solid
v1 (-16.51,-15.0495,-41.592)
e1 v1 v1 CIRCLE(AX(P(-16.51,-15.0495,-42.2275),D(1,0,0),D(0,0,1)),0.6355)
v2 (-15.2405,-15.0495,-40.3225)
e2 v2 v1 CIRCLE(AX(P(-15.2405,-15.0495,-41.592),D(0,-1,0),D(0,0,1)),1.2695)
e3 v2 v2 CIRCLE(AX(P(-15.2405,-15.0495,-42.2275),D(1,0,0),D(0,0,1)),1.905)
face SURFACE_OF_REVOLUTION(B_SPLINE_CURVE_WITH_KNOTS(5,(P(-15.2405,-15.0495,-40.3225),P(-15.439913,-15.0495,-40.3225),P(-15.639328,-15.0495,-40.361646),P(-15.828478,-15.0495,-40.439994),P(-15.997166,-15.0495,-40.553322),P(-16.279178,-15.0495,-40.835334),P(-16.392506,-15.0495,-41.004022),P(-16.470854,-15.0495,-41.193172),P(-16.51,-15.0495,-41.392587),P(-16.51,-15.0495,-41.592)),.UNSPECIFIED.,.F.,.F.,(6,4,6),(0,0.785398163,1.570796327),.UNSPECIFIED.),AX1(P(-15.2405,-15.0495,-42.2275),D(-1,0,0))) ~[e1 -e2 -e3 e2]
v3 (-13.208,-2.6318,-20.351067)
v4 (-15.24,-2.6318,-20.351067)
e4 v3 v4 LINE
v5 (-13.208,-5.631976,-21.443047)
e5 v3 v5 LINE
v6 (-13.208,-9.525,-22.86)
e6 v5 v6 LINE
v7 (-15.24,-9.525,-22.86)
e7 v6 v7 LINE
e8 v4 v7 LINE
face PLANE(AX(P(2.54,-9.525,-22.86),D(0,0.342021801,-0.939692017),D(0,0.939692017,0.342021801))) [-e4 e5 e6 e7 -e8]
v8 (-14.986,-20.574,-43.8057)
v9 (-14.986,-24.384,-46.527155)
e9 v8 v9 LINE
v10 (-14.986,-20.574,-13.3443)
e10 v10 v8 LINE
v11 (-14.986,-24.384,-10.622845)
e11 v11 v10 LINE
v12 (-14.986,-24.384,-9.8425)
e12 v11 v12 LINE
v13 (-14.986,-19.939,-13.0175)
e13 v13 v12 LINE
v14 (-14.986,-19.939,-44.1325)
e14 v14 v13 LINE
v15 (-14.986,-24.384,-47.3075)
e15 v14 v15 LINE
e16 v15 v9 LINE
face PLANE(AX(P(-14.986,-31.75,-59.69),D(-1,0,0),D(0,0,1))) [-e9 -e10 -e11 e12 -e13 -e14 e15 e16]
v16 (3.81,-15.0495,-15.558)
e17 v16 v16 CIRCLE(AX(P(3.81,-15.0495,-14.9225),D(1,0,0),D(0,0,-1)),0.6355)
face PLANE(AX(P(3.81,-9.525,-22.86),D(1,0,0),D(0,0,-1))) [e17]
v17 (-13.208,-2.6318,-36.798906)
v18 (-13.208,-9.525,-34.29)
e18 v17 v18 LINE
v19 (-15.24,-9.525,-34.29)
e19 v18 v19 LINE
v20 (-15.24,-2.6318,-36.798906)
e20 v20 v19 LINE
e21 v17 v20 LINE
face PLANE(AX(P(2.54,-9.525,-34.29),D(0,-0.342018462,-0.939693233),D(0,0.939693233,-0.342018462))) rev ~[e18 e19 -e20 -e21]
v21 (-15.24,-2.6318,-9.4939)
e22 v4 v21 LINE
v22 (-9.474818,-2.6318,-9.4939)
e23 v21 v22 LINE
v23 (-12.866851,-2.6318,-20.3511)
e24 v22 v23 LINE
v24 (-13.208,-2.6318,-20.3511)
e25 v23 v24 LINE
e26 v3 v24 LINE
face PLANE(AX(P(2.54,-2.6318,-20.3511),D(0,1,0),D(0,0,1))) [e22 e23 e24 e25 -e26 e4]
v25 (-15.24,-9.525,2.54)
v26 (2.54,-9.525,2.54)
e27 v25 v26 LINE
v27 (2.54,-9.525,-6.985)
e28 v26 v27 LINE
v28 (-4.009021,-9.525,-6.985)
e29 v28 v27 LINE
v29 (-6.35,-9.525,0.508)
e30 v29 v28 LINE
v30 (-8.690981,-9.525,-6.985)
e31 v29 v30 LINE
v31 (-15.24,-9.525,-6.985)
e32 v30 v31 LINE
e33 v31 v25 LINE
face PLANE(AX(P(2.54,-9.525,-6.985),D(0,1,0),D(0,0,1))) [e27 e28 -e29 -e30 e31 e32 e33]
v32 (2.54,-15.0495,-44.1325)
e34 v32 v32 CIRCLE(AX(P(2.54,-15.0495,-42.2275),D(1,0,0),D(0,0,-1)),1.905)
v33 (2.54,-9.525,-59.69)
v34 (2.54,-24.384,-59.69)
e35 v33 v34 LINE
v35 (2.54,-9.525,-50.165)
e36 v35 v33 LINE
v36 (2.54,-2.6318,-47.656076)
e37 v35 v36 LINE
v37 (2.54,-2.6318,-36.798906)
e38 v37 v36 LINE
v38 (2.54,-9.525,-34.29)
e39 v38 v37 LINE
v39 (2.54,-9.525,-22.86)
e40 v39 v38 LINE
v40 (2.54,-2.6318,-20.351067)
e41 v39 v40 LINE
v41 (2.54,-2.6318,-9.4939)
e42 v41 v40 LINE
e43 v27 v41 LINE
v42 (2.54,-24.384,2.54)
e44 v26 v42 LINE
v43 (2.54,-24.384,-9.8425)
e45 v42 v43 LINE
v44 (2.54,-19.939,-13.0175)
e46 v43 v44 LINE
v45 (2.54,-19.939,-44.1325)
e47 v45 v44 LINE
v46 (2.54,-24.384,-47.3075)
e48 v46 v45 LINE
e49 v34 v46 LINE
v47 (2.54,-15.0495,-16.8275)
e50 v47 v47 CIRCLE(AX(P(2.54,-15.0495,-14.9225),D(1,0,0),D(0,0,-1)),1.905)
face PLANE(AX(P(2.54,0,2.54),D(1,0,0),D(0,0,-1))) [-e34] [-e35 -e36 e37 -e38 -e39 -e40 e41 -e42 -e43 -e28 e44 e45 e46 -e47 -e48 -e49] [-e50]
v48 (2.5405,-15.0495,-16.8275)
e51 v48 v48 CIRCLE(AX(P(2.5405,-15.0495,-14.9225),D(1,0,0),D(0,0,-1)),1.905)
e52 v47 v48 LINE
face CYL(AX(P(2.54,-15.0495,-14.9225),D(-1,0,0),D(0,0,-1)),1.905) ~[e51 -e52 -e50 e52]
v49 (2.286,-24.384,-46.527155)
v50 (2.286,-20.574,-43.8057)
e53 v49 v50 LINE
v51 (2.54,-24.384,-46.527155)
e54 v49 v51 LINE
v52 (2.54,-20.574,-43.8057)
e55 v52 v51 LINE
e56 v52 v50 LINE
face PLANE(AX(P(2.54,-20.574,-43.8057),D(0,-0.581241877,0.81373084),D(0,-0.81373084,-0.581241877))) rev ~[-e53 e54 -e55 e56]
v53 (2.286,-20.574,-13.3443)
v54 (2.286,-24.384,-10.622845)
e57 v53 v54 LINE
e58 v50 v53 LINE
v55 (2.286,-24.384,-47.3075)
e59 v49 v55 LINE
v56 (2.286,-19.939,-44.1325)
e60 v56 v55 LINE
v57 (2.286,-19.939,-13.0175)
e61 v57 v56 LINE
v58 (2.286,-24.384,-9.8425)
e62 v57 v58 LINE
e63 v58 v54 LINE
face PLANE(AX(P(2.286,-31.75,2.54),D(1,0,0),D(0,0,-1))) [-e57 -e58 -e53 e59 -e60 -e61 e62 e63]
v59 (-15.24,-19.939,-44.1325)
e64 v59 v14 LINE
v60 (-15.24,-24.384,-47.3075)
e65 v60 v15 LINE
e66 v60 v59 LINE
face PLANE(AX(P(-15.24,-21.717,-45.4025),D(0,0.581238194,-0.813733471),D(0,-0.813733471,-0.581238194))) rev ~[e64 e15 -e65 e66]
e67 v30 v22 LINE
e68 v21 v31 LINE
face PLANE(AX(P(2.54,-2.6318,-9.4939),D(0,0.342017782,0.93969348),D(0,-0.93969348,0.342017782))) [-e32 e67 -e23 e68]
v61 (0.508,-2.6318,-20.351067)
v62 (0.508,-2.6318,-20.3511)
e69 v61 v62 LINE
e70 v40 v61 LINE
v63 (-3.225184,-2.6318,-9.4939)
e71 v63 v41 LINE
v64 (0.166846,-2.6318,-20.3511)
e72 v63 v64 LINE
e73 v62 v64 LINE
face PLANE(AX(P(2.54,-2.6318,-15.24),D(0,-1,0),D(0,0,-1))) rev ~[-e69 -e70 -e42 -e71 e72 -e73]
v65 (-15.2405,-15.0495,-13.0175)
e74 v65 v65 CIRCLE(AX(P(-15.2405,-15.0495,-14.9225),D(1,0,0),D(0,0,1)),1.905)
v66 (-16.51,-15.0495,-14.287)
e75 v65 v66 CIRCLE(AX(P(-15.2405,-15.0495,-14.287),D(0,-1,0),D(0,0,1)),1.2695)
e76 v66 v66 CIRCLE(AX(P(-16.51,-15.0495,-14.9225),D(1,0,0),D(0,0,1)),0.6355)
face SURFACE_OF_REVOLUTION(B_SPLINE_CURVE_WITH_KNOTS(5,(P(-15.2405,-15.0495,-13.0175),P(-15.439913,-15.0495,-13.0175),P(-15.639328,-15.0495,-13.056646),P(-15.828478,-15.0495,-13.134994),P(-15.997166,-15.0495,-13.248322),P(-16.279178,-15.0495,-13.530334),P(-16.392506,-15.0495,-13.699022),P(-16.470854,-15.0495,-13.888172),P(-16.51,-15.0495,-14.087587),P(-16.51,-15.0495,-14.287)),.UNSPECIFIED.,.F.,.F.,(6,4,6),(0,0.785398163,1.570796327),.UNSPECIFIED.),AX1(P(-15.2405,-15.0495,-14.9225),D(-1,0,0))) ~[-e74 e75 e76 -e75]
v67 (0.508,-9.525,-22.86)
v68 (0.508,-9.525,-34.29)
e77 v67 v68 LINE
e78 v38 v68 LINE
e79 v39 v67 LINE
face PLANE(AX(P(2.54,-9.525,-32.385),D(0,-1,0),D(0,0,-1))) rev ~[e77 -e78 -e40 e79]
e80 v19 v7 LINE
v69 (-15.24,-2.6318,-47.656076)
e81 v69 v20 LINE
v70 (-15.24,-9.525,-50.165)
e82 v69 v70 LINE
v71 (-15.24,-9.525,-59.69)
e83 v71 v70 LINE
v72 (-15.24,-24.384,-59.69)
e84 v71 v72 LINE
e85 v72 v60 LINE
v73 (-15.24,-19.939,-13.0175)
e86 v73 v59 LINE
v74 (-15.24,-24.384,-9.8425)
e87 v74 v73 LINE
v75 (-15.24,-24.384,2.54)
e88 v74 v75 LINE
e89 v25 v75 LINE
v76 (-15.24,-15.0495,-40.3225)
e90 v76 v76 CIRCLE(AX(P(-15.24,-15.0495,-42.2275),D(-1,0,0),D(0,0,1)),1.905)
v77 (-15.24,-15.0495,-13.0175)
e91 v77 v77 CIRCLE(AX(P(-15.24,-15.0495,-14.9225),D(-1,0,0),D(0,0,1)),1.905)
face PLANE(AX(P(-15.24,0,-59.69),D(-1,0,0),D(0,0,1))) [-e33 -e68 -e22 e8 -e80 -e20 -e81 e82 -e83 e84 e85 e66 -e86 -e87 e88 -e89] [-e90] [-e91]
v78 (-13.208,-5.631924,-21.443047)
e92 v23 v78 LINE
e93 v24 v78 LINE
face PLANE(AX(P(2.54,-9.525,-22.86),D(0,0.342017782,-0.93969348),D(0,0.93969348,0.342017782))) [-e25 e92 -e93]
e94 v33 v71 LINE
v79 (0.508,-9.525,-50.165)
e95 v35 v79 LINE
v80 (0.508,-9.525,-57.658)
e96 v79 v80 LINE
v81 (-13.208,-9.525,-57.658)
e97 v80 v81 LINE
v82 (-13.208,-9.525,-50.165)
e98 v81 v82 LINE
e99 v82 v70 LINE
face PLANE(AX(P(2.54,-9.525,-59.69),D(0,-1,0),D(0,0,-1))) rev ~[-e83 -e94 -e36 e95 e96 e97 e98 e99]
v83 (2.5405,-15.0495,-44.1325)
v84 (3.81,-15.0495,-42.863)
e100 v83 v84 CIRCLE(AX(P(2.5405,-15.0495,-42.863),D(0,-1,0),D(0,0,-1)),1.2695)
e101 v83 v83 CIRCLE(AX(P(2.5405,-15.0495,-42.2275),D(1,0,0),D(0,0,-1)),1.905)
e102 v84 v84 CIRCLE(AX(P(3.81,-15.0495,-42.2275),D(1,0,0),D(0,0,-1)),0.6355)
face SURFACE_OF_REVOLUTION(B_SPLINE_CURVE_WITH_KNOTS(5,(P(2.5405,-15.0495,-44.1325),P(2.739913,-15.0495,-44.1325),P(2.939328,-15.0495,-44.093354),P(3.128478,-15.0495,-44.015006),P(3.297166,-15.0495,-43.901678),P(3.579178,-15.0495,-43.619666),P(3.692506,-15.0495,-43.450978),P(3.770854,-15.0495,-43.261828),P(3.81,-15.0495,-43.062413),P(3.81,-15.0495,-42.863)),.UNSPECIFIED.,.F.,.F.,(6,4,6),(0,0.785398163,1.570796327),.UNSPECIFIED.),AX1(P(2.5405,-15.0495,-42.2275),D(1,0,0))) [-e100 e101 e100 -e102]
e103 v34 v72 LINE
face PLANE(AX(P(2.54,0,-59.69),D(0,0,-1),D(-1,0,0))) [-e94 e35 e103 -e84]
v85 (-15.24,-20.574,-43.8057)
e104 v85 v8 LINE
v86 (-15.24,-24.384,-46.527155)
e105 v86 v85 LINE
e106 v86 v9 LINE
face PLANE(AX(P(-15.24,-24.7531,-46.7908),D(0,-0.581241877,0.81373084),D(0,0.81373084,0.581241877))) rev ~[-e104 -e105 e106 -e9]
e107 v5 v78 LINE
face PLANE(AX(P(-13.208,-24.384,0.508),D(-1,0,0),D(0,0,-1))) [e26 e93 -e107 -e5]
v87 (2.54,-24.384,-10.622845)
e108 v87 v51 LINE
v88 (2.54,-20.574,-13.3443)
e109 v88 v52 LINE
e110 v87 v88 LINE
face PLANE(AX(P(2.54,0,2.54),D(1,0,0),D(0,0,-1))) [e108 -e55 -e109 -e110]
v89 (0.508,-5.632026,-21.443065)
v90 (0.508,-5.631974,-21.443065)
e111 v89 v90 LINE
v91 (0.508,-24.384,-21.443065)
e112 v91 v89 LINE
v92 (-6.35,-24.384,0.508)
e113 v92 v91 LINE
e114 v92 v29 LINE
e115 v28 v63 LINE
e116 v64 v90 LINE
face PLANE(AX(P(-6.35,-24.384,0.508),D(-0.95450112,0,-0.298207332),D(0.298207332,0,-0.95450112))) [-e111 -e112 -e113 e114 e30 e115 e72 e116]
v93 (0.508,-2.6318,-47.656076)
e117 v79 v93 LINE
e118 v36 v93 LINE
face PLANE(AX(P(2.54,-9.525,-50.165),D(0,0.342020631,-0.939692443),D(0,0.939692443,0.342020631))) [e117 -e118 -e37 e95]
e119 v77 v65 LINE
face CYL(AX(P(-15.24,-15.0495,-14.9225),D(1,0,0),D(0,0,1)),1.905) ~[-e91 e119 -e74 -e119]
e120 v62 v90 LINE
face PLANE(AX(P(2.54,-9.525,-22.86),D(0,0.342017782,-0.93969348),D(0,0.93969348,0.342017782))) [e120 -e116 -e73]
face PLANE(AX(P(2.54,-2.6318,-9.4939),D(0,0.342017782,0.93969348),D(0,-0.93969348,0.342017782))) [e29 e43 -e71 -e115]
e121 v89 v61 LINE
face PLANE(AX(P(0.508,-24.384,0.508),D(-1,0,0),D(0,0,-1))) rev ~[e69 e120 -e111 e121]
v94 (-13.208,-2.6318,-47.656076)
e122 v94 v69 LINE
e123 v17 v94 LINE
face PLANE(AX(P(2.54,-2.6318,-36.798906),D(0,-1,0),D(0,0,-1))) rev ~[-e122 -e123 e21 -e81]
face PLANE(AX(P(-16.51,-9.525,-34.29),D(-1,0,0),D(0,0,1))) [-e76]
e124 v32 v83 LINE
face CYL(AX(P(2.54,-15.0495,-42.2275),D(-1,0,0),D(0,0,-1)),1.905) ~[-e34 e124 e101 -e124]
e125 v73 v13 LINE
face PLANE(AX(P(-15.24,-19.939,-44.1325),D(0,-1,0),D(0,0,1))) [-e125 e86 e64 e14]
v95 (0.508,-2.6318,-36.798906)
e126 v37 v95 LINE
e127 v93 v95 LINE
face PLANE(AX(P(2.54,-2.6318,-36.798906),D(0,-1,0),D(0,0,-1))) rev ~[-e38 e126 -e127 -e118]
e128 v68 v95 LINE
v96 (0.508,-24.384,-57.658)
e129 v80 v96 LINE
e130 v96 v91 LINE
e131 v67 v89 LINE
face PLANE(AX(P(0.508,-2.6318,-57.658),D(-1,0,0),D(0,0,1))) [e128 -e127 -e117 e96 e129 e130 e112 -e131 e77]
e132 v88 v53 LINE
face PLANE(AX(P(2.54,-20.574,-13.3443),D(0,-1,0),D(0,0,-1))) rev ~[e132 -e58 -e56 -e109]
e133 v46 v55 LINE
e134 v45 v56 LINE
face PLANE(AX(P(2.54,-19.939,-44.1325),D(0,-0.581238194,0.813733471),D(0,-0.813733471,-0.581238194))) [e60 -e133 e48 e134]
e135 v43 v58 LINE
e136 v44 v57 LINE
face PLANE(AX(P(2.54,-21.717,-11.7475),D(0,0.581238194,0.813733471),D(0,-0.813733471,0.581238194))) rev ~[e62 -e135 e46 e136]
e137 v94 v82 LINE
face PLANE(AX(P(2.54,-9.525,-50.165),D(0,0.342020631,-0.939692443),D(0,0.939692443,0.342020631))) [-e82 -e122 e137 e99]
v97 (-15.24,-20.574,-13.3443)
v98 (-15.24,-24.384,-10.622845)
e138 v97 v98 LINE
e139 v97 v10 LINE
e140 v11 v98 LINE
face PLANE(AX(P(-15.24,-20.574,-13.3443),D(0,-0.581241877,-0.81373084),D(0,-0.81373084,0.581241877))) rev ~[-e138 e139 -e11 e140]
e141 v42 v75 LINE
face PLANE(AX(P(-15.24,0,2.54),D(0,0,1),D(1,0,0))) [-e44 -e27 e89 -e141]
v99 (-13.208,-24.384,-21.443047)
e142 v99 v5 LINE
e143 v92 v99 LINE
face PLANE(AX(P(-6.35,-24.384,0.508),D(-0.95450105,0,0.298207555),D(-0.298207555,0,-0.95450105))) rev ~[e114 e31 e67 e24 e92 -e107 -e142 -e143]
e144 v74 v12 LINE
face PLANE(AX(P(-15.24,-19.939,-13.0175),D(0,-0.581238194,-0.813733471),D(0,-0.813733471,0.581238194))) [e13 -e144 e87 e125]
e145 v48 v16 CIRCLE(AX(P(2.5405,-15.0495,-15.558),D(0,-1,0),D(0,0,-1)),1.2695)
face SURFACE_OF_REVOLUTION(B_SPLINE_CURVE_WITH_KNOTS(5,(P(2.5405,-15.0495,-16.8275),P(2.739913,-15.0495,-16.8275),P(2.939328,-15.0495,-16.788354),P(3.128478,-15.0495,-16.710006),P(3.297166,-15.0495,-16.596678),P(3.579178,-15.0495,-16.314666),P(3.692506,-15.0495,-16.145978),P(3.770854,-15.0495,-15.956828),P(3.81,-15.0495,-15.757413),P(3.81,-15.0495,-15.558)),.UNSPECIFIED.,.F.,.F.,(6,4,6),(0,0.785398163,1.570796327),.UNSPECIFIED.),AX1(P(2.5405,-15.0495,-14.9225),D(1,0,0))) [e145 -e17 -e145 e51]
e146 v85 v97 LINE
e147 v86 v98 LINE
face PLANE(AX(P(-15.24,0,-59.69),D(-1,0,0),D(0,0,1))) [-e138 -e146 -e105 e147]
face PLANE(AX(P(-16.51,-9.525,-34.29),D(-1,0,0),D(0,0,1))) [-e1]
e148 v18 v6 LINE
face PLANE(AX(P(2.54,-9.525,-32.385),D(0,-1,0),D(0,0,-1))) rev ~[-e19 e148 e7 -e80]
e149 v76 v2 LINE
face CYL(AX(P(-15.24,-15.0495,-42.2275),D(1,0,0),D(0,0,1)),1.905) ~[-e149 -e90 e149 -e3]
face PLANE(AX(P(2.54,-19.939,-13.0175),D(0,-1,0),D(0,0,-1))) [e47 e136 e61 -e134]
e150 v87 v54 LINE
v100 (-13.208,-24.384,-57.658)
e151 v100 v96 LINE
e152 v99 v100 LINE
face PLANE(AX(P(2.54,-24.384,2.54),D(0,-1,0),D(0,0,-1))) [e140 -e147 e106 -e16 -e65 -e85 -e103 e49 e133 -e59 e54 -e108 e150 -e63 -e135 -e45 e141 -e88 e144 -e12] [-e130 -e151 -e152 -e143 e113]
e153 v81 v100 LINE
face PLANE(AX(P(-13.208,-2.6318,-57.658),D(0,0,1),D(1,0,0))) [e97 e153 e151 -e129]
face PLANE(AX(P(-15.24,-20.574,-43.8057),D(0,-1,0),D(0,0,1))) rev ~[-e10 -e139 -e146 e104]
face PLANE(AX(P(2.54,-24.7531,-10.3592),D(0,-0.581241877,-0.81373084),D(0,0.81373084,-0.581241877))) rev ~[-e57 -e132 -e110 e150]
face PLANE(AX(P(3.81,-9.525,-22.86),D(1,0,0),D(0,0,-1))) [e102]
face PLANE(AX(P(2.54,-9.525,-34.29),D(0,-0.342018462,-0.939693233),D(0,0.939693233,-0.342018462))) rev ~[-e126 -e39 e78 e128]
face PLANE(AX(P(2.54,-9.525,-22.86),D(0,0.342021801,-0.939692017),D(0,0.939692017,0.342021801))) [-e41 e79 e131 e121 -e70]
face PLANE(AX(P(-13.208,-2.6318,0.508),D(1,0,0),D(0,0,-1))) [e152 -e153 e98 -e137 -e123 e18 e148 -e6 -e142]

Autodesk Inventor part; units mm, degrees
ref_plane "YZ Plane" through (0, 0, 0) normal (1, 0, 0) x (0, 1, 0)
ref_plane "XZ Plane" through (0, 0, 0) normal (0, 1, 0) x (-1, 0, 0)
ref_plane "XY Plane" through (0, 0, 0) normal (0, 0, 1) x (1, 0, 0)
sketch "Sketch1" plane through (0, 0, 0) normal (0, 1, 0) x (-1, 0, 0)
  line L0 (0, 0) -> (12.7, 0)
  line L1 (12.7, 0) -> (12.7, -57.15)
  line L2 (12.7, -57.15) -> (0, -57.15)
  line L3 (0, -57.15) -> (0, 0)
  line L4 (15.24, -59.69) -> (15.24, 2.54)
  line L5 (15.24, 2.54) -> (-2.54, 2.54)
  line L6 (-2.54, 2.54) -> (-2.54, -59.69)
  line L7 (-2.54, -59.69) -> (15.24, -59.69)
  dimension "d0" = 12.7
  dimension "d1" = 57.15
  dimension "d2" = 2.54
extrude "Extrusion1" add sketch "Sketch1" against normal blind 31.75
sketch "Sketch2" plane through (2.54, 0, 2.54) normal (1, 0, 0) x (0, 0, -1)
  point P0 (2.54, 0)
sketch "Sketch3" plane through (2.54, 0, 2.54) normal (1, 0, 0) x (0, 0, -1)
  line L0 (59.69, 0) -> (2.54, 0) projected
  line L1 (-1.2014, -9.525) -> (66.2927, -9.525)
  line L2 (31.115, 0) -> (31.115, -9.525)
  line L3 (0, 0) -> (0, -31.75) projected
  line L4 (0, -9.525) -> (8.255, -9.525)
  line L5 (62.23, 0) -> (62.23, -31.75) projected
  line L6 (62.23, -9.525) -> (53.975, -9.525)
  line L7 (31.115, -9.525) -> (34.925, -9.525)
  line L8 (31.115, -9.525) -> (27.305, -9.525)
  line L9 (0, -9.525) -> (9.525, -9.525)
  line L10 (31.115, -9.525) -> (25.4, -9.525)
  line L11 (31.115, -9.525) -> (36.83, -9.525)
  line L12 (62.23, -9.525) -> (52.705, -9.525)
  line L13 (0, 5.2281) -> (17.78, 5.2281)
  line L14 (17.78, 5.2281) -> (17.78, -9.525)
  line L15 (17.78, 0) -> (17.78, -2.54)
  line L16 (0, -2.54) -> (62.23, -2.54)
  line L17 (36.83, -9.525) -> (44.4179, 11.3227)
  line L18 (52.705, -9.525) -> (48.1245, 3.0598)
  line L19 (9.525, -9.525) -> (14.5428, 4.2614)
  line L20 (25.4, -9.525) -> (21.085, 2.3303)
  line L21 (36.83, -9.525) -> (52.705, -9.525)
  line L22 (-3.8276, -2.6318) -> (67.8028, -2.6318)
  line L23 (67.8028, -2.6318) -> (67.8028, 7.3948)
  line L24 (67.8028, 7.3948) -> (-3.8276, 7.3948)
  line L25 (-3.8276, 7.3948) -> (-3.8276, -2.6318)
  line L26 (-1.2014, -9.525) -> (-3.8276, -2.6318)
  line L27 (65.275, -9.525) -> (67.8028, -2.6318)
  point P0 (12.0339, -2.6318)
  point P1 (22.8911, -2.6318)
  point P2 (39.3389, -2.6318)
  point P3 (50.1961, -2.6318)
  dimension "d10" = 9.525
  dimension "d11" = 5.715
  dimension "d12" = 5.715
  dimension "d13" = 9.525
  dimension "d14" = 17.78
  dimension "d15" = 2.54
  dimension "d16" = 70
  dimension "d17" = 70
  dimension "d18" = 70
  dimension "d19" = 70
extrude "Extrusion2" cut sketch "Sketch3" against normal through all contours L18 L16 L17 L0 | L0 L17 L24 L23 L22 L5 L16 L18 | L17 L16 L2 L0 | L0 L19 L16 L3 L22 L25 L24 L17 | L18 L22 L17 L16 | L16 L5 L22 L18 | L2 L16 L20 L0 | L17 L22 L2 L16 | L22 L5 L1 L18 | L20 L16 L14 L0 | L2 L22 L20 L16 | L17 L1 L2 L22 | L22 L27 L1 L5 | L14 L16 L19 L0 | L20 L22 L14 L16 | L2 L1 L20 L22 | L22 L3 L1 L26 | L14 L22 L19 L16 | L22 L19 L1 L3 | L3 L16 L19 L22
sketch "Sketch4" plane through (2.54, -31.75, 2.54) normal (1, 0, 0) x (0, 0, -1)
  line L0 (0, 22.225) -> (0, 0) projected
  line L1 (0, 22.225) -> (0, 0)
  line L2 (0, 0) -> (0, 7.366)
  line L3 (0, 7.366) -> (62.23, 7.366)
  line L4 (62.23, 22.225) -> (62.23, 0) projected
  line L5 (12.0339, 29.1182) -> (22.8911, 29.1182) projected
  line L6 (17.4625, 29.1182) -> (17.4625, 4.5442)
  line L7 (50.1961, 29.1182) -> (39.3389, 29.1182) projected
  line L8 (44.7675, 29.1182) -> (44.7675, 5.1393)
  line L9 (17.4625, 7.366) -> (14.2875, 7.366)
  line L10 (44.7675, 7.366) -> (47.9425, 7.366)
  line L11 (47.9425, 7.366) -> (47.9425, 11.811)
  line L12 (14.2875, 7.366) -> (14.2875, 11.811)
  line L13 (17.4625, 11.811) -> (44.7675, 11.811)
  line L14 (0, 7.366) -> (0, 22.225)
  line L15 (0, 14.7955) -> (64.3687, 14.7955)
  line L16 (0, 16.7005) -> (64.3687, 16.7005)
  circle A0 centre (17.4625, 16.7005) radius 1.905
  circle A1 centre (44.7675, 16.7005) radius 1.905
  line L17 (46.6725, 11.811) -> (49.8475, 7.366)
  line L18 (15.5575, 11.811) -> (12.3825, 7.366)
  line L19 (15.5575, 11.811) -> (17.4625, 11.811)
  line L20 (46.6725, 11.811) -> (44.7675, 11.811)
  line L21 (12.8992, 6.9969) -> (15.8843, 11.176)
  line L22 (15.8843, 11.176) -> (17.4625, 11.176)
  line L23 (17.4625, 11.176) -> (44.7675, 11.176)
  line L24 (44.7675, 11.176) -> (46.3457, 11.176)
  line L25 (46.3457, 11.176) -> (49.3308, 6.9969)
  line L26 (0, 6.731) -> (62.23, 6.731)
  line L27 (12.8992, 6.9969) -> (12.7093, 6.731)
  line L28 (49.3308, 6.9969) -> (49.8475, 6.3495)
  point P0 (2.54, 31.75)
  point P1 (49.543, 6.731)
  point P2 (62.23, 6.731)
  point P3 (0, 7.366)
  point P4 (0, 6.731)
  dimension "d22" = 7.366
  dimension "d23" = 3.175
  dimension "d24" = 3.175
  dimension "d25" = 4.445
  dimension "d26" = 4.445
  dimension "d27" = 1.905
  dimension "d28" = 0.635
  dimension "d29" = 0.635
sketch "Sketch5" plane through (-15.24, -31.75, -59.69) normal (-1, 0, 0) x (0, 0, 1)
  line L0 (0, 22.225) -> (0, 0)
  line L1 (0, 22.225) -> (0, 0)
  line L2 (0, 0) -> (0, 7.366)
  line L3 (0, 7.366) -> (62.23, 7.366)
  line L4 (62.23, 22.225) -> (62.23, 0)
  line L5 (12.0339, 29.1182) -> (22.8911, 29.1182)
  line L6 (17.4625, 29.1182) -> (17.4625, 4.5442)
  line L7 (50.1961, 29.1182) -> (39.3389, 29.1182)
  line L8 (44.7675, 29.1182) -> (44.7675, 5.1393)
  line L9 (17.4625, 7.366) -> (14.2875, 7.366)
  line L10 (44.7675, 7.366) -> (47.9425, 7.366)
  line L11 (47.9425, 7.366) -> (47.9425, 11.811)
  line L12 (14.2875, 7.366) -> (14.2875, 11.811)
  line L13 (17.4625, 11.811) -> (44.7675, 11.811)
  line L14 (0, 7.366) -> (0, 22.225)
  line L15 (0, 14.7955) -> (64.3687, 14.7955)
  line L16 (0, 16.7005) -> (64.3687, 16.7005)
  circle A0 centre (17.4625, 16.7005) radius 1.905
  circle A1 centre (44.7675, 16.7005) radius 1.905
  line L17 (46.6725, 11.811) -> (49.8475, 7.366)
  line L18 (15.5575, 11.811) -> (12.3825, 7.366)
  line L19 (15.5575, 11.811) -> (17.4625, 11.811)
  line L20 (46.6725, 11.811) -> (44.7675, 11.811)
  line L21 (12.8992, 6.9969) -> (15.8843, 11.176)
  line L22 (15.8843, 11.176) -> (17.4625, 11.176)
  line L23 (17.4625, 11.176) -> (44.7675, 11.176)
  line L24 (44.7675, 11.176) -> (46.3457, 11.176)
  line L25 (46.3457, 11.176) -> (49.3308, 6.9969)
  line L26 (0, 6.731) -> (62.23, 6.731)
  line L27 (12.8992, 6.9969) -> (12.7093, 6.731)
  line L28 (49.3308, 6.9969) -> (49.8475, 6.3495)
  point P0 (59.69, 31.75)
  point P1 (2.54, 31.75)
  point P2 (0, 6.731)
  point P3 (49.543, 6.731)
  point P4 (62.23, 6.731)
  point P5 (0, 7.366)
  dimension "d30" = 7.366
  dimension "d31" = 3.175
  dimension "d32" = 3.175
  dimension "d33" = 4.445
  dimension "d34" = 4.445
  dimension "d35" = 1.905
  dimension "d36" = 0.635
  dimension "d37" = 0.635
extrude "Extrusion3" cut sketch "Sketch5" against normal blind 0.254 contours L3 L21 L27 L26 L0 | L18 L12 L21 L3 | L13 L8 L23 L6 | L6 L22 L21 L12 L18 L19 | L20 L17 L11 L25 L24 L8 | L4 L26 L28 L25 L3 | L17 L3 L25 L11
sketch "Sketch6" plane through (-15.24, -9.525, -34.29) normal (-1, 0, 0) x (0, 0, 1)
  line L0 (-25.4, 0) -> (-25.4, -22.225)
  line L1 (-25.4, 0) -> (-25.4, -22.225)
  line L2 (-25.4, -22.225) -> (-25.4, -14.859)
  line L3 (-25.4, -14.859) -> (36.83, -14.859)
  line L4 (36.83, 0) -> (36.83, -22.225)
  line L5 (-13.3661, 6.8933) -> (-2.5089, 6.8933)
  line L6 (-7.9375, 6.8933) -> (-7.9375, -17.6808)
  line L7 (24.7961, 6.8933) -> (13.9389, 6.8933)
  line L8 (19.3675, 6.8933) -> (19.3675, -17.0857)
  line L9 (-7.9375, -14.859) -> (-11.1125, -14.859)
  line L10 (19.3675, -14.859) -> (22.5425, -14.859)
  line L11 (22.5425, -14.859) -> (22.5425, -10.414)
  line L12 (-11.1125, -14.859) -> (-11.1125, -10.414)
  line L13 (-7.9375, -10.414) -> (19.3675, -10.414)
  line L14 (-25.4, -14.859) -> (-25.4, 0)
  line L15 (-25.4, -7.4295) -> (38.9686, -7.4295)
  line L16 (-25.4, -5.5245) -> (38.9686, -5.5245)
  circle A0 centre (-7.9375, -5.5245) radius 1.905
  circle A1 centre (19.3675, -5.5245) radius 1.905
  line L17 (21.2725, -10.414) -> (24.4475, -14.859)
  line L18 (-9.8425, -10.414) -> (-13.0175, -14.859)
  line L19 (-9.8425, -10.414) -> (-7.9375, -10.414)
  line L20 (21.2725, -10.414) -> (19.3675, -10.414)
  line L21 (-12.5008, -15.228) -> (-9.5157, -11.049)
  line L22 (-9.5157, -11.049) -> (-7.9375, -11.049)
  line L23 (-7.9375, -11.049) -> (19.3675, -11.049)
  line L24 (19.3675, -11.049) -> (20.9457, -11.049)
  line L25 (20.9457, -11.049) -> (23.9308, -15.228)
  line L26 (-25.4, -15.494) -> (36.83, -15.494)
  line L27 (-12.5008, -15.228) -> (-12.6907, -15.494)
  line L28 (23.9308, -15.228) -> (24.4475, -15.8755)
  point P0 (34.29, 9.525)
  point P1 (-22.86, 9.525)
  dimension "d40" = 7.366
  dimension "d41" = 3.175
  dimension "d42" = 3.175
  dimension "d43" = 4.445
  dimension "d44" = 4.445
  dimension "d45" = 1.905
  dimension "d46" = 0.635
  dimension "d47" = 0.635
extrude "Extrusion4" cut sketch "Sketch4" against normal blind 0.254 contours L3 L21 L27 L26 L0 | L18 L12 L21 L3 | L13 L8 L23 L6 | L6 L22 L21 L12 L18 L19 | L20 L17 L11 L25 L24 L8 | L4 L26 L28 L25 L3 | L17 L3 L25 L11
sketch "Sketch7" plane through (2.54, -9.525, -22.86) normal (1, 0, 0) x (0, 0, -1)
  point P0 (-22.86, 9.525)
extrude "Extrusion5" add sketch "Sketch6" along normal blind 1.27 contours A0 L6 L16 | L16 L6 A0 | L6 L16 A0 | L6 A0 L16 | A1 L16 L8 | L8 L16 A1 | L16 A1 L8 | L8 A1 L16
sketch "Sketch8" plane through (2.54, -9.525, -22.86) normal (1, 0, 0) x (0, 0, -1)
  circle A0 centre (-7.9375, -5.5245) radius 1.905 projected
  circle A1 centre (-7.9375, -5.5245) radius 1.905
  circle A2 centre (19.3675, -5.5245) radius 1.905 projected
  circle A3 centre (19.3675, -5.5245) radius 1.905
  point P0 (-22.86, 9.525)
extrude "Extrusion6" add sketch "Sketch8" along normal blind 1.27
sketch "Sketch9" plane through (-15.24, -9.525, -34.29) normal (-1, 0, 0) x (0, 0, 1)
  line L0 (-25.4, 0) -> (-25.4, -14.859) projected
  line L1 (-25.4, -15.494) -> (-12.713, -15.494) projected
  line L2 (-25.4, -14.859) -> (-25.146, -14.859)
  line L3 (-25.146, -14.859) -> (-25.146, -15.494)
  line L4 (-25.146, -15.494) -> (-25.4, -15.494)
  line L5 (-25.4, -15.494) -> (-25.4, -14.859)
  line L6 (24.4475, -14.859) -> (36.83, -14.859) projected
  line L7 (36.83, -15.494) -> (36.576, -15.494)
  line L8 (36.576, -15.494) -> (36.576, -14.859)
  line L9 (36.576, -14.859) -> (36.83, -14.859)
  line L10 (36.83, -14.859) -> (36.83, -15.494)
  point P0 (34.29, 9.525)
  dimension "d54" = 0.254
  dimension "d55" = 0.254
extrude "Extrusion7" cut sketch "Sketch9" against normal blind 2540
fillet "Fillet1" radius 1.27 4 edges at (-16.51, -15.0495, -44.1325) (-16.51, -15.0495, -16.8275) (3.81, -15.0495, -13.0175) (3.81, -15.0495, -40.3225)
sketch "Sketch10" plane through (-12.7, -31.75, 0) normal (1, 0, 0) x (0, 0, -1)
  line L0 (0, 0) -> (57.15, 0) projected
  line L1 (59.69, 6.731) -> (59.69, 0) projected
  line L2 (0, 0) -> (59.69, 0)
  line L3 (59.69, 0) -> (59.69, 2.54)
  line L4 (59.69, 2.54) -> (0, 2.54)
  line L5 (0, 2.54) -> (0, 0)
  point P0 (0, 31.75)
  dimension "d59" = 2.54
extrude "Extrusion8" add sketch "Sketch10" along normal blind 13.97
sketch "Sketch11" plane through (0, -31.75, 0) normal (0, -1, 0) x (1, 0, 0)
  line L0 (-14.986, 2.286) -> (2.286, 2.286) projected
  line L1 (-15.24, -59.69) -> (2.54, -59.69) projected
  line L2 (2.54, -59.69) -> (2.54, 2.54) projected
  line L3 (2.54, 2.54) -> (-15.24, 2.54) projected
  line L4 (-15.24, 2.54) -> (-15.24, -59.69) projected
  line L5 (2.54, 2.54) -> (-15.24, 2.54) projected
  line L6 (-15.24, 2.54) -> (-15.24, -59.69) projected
  line L7 (2.54, 2.54) -> (-15.24, 2.54)
  line L8 (-6.35, 2.54) -> (-6.35, -73.2996)
  line L9 (-6.35, 2.54) -> (-4.445, 2.54)
  line L10 (-6.35, 2.54) -> (-8.255, 2.54)
  line L11 (-14.986, -59.436) -> (2.286, -59.436) projected
  line L12 (-8.255, 2.54) -> (-4.445, 2.54)
  line L13 (-4.445, 2.54) -> (-4.445, -59.436)
  line L14 (-4.445, -59.436) -> (-8.255, -59.436)
  line L15 (-8.255, -59.436) -> (-8.255, 2.54)
  point P0 (0, 0)
  point P1 (-8.255, 2.286)
  point P2 (-4.445, 2.286)
  dimension "d62" = 1.905
  dimension "d63" = 1.905
extrude "Extrusion9" add sketch "Sketch11" along normal blind 76.2 contours L0 L8 L11 L15 | L0 L13 L11 L8
sketch "Sketch12" plane through (-4.445, -31.75, 2.286) normal (1, 0, 0) x (0, 0, -1)
  line L0 (-988.062, -700.5234) -> (-988.062, 1325.7378) construction
  line L1 (-988.062, 1325.7378) -> (444.4144, 1325.7378) construction
  line L2 (444.4144, 1325.7378) -> (444.4144, -700.5234) construction
  line L3 (444.4144, -700.5234) -> (-988.062, -700.5234) construction
  line L4 (0, 0) -> (61.722, 0) projected
  line L5 (0, 0) -> (0, -76.2) projected
  line L6 (61.722, -76.2) -> (0, -76.2) projected
  line L7 (61.722, 0) -> (61.722, -76.2) projected
  line L8 (0, 0) -> (61.722, 0) projected
  line L9 (0, 0) -> (6.35, 0)
  line L10 (6.35, 0) -> (6.35, -11.43)
  line L11 (-0.254, 0) -> (61.976, 0) projected
  line L12 (61.722, 0) -> (55.372, 0)
  line L13 (55.372, 0) -> (55.372, -11.43)
  line L14 (0, 0) -> (0, -63.5)
  line L15 (0, 0) -> (0, -76.2) projected
  line L16 (39.4357, -63.5) -> (61.722, -63.5)
  line L17 (61.722, 0) -> (61.722, -76.2) projected
  line L18 (0, -63.5) -> (10.16, -63.5)
  line L19 (61.722, -63.5) -> (51.562, -63.5)
  line L20 (10.16, -63.5) -> (22.2863, -63.5)
  line L21 (50.9718, -63.5) -> (38.862, -63.5)
  line L22 (50.5789, -63.5) -> (54.7064, -63.5)
  line L23 (54.7064, -63.5) -> (46.4514, -63.5)
  line L24 (30.861, 0) -> (30.861, -25.4)
  line L25 (6.35, -11.43) -> (10.1169, -62.9113)
  line L26 (22.918, -62.9292) -> (26.6755, -25.9708)
  line L27 (27.3072, -25.4) -> (34.4148, -25.4)
  line L28 (35.0465, -25.9708) -> (38.804, -62.9292)
  line L29 (51.6051, -62.9113) -> (55.372, -11.43)
  line L30 (6.35, 0) -> (16.51, 0)
  line L31 (55.372, 0) -> (45.212, 0)
  arc A0 (6.35, -11.43) -> (16.51, 0) centre (5.0802, -0.0708) ccw
  arc A1 (45.212, 0) -> (55.372, -11.43) centre (56.6418, -0.0708) ccw
  arc A2 (27.3072, -25.4) -> (26.6755, -25.9708) centre (27.3072, -26.035) ccw
  arc A3 (35.0465, -25.9708) -> (34.4148, -25.4) centre (34.4148, -26.035) ccw
  arc A4 (22.2863, -63.5) -> (22.918, -62.9292) centre (22.2863, -62.865) ccw
  arc A5 (10.1169, -62.9113) -> (10.7502, -63.5) centre (10.7502, -62.865) ccw
  arc A6 (38.804, -62.9292) -> (39.4357, -63.5) centre (39.4357, -62.865) ccw
  arc A7 (50.9718, -63.5) -> (51.6051, -62.9113) centre (50.9718, -62.865) ccw
  line L32 (16.51, -63.5) -> (16.51, -52.07)
  line L33 (46.4514, -63.5) -> (46.4514, -52.07)
  line L34 (30.861, -25.4) -> (30.861, -19.05)
  line L35 (30.861, -19.05) -> (15.621, -19.05)
  line L36 (30.861, -19.05) -> (46.101, -19.05)
  circle A8 centre (15.621, -19.05) radius 3.175
  circle A9 centre (46.101, -19.05) radius 3.175
  circle A10 centre (16.51, -52.07) radius 3.175
  circle A11 centre (46.4514, -52.07) radius 3.175
  point P0 (2.286, 31.75)
  point P1 (22.86, -63.5)
  point P2 (10.7502, -63.5)
  dimension "d107" = 6.35
  dimension "d110" = 11.43
  dimension "d113" = 6.35
  dimension "d114" = 11.43
  dimension "d115" = 63.5
  dimension "d116" = 10.16
  dimension "d117" = 10.16
  dimension "d118" = 12.7
  dimension "d119" = 12.7
  dimension "d120" = 4.1275
  dimension "d121" = 8.255
  dimension "d122" = 25.4
  dimension "d123" = 10.16
  dimension "d125" = 10.16
  dimension "d126" = 11.43
  dimension "d127" = 11.43
  dimension "d128" = 0.635
  dimension "d130" = 11.43
  dimension "d131" = 11.43
  dimension "d132" = 6.35
  dimension "d133" = 15.24
  dimension "d134" = 15.24
  dimension "d135" = 6.35
  dimension "d136" = 6.35
  dimension "d137" = 6.35
  dimension "d138" = 6.35
extrude "Extrusion10" cut sketch "Sketch12" against normal blind 76.2 contours L4 L10 L25 A5 L20 L18 L5 | L4 A0 L10 | L18 L20 A4 L26 A2 L27 A3 L28 A6 L16 L7 L6 L5 | A10 | A8 | A9 | A11 | L4 L13 A1 | L16 A7 L29 L13 L4 L7
sketch "Sketch13" plane through (-15.24, -2.6318, -20.3511) normal (0, 1, 0) x (1, 0, 0)
  line L0 (15.24, -20.3511) -> (2.54, -20.3511) projected
  line L1 (2.54, 36.7989) -> (15.24, 36.7989) projected
  line L2 (2.54, -20.3511) -> (15.24, -20.3511)
  line L3 (15.24, -20.3511) -> (15.24, 36.7989)
  line L4 (15.24, 36.7989) -> (2.54, 36.7989)
  line L5 (2.54, 36.7989) -> (2.54, -20.3511)
  line L6 (15.748, 37.3069) -> (15.748, -20.8591)
  line L7 (15.748, -20.8591) -> (2.032, -20.8591)
  line L8 (2.032, -20.8591) -> (2.032, 37.3069)
  line L9 (2.032, 37.3069) -> (15.748, 37.3069)
  dimension "d141" = 0.508
extrude "Extrusion11" cut sketch "Sketch13" against normal blind 26.5684
sketch "Sketch15" plane through (2.54, -31.75, 2.54) normal (1, 0, 0) x (0, 0, -1)
  line L0 (0, 22.225) -> (0, 7.366) projected
  line L1 (0, 7.366) -> (66.5131, 7.366)
  line L2 (66.5131, 7.366) -> (66.5131, -92.4915)
  line L3 (66.5131, -92.4915) -> (0, -92.4915)
  line L4 (0, -92.4915) -> (0, 7.366)
  point P0 (2.54, 31.75)
extrude "Extrusion12" cut sketch "Sketch15" against normal blind 25.4
sketch "Sketch16" plane through (-15.24, -24.384, -46.5271) normal (0, -1, 0) x (1, 0, 0)
  line L0 (2.032, 47.0351) -> (2.032, -11.1309) projected
  line L1 (15.748, -11.1309) -> (15.748, -3.6379) projected
  line L2 (2.032, 47.0351) -> (15.748, 47.0351)
  line L3 (15.748, 47.0351) -> (15.748, -11.1309)
  line L4 (15.748, -11.1309) -> (2.032, -11.1309)
  line L5 (2.032, -11.1309) -> (2.032, 47.0351)
  line L6 (15.748, 47.0351) -> (2.032, 47.0351) projected
  line L7 (8.89, 47.0351) -> (8.89, 28.8487)
  line L8 (8.89, 47.0351) -> (19.7313, 12.3343)
  line L9 (8.89, 47.0351) -> (45.2449, 47.0351) construction
  line L10 (8.89, 47.0351) -> (-2.5411, 10.4465)
  point P0 (15.24, 46.5271)
  point P1 (2.032, 25.0841)
  point P2 (15.748, 25.0841)
  dimension "d146" = 58.166
  dimension "d147" = 13.716
  dimension "d148" = 18.1864
  dimension "d149" = 72.65
  dimension "d150" = 72.65
extrude "Extrusion13" add sketch "Sketch16" against normal blind 25.4 contours L2 L10 L0 | L2 L3 L8
sketch "Sketch17" plane through (2.54, -9.525, -22.86) normal (1, 0, 0) x (0, 0, -1)
  circle A0 centre (19.3675, -5.5245) radius 1.905 projected
  circle A1 centre (-7.9375, -5.5245) radius 1.905 projected
  line L0 (-25.4, -14.859) -> (-13.0175, -14.859) projected
  line L1 (-13.0175, -14.859) -> (-9.8425, -10.414) projected
  line L2 (-9.8425, -10.414) -> (21.2725, -10.414) projected
  line L3 (21.2725, -10.414) -> (24.4475, -14.859) projected
  line L4 (24.4475, -14.859) -> (36.83, -14.859) projected
  line L5 (36.83, 0) -> (36.83, -14.859) projected
  line L6 (36.83, 0) -> (27.305, 0) projected
  line L7 (27.305, 0) -> (24.7961, 6.8932) projected
  line L8 (24.7961, 6.8932) -> (13.9389, 6.8932) projected
  line L9 (13.9389, 6.8932) -> (11.43, 0) projected
  line L10 (11.43, 0) -> (0, 0) projected
  line L11 (0, 0) -> (-2.5089, 6.8932) projected
  line L12 (-2.5089, 6.8932) -> (-13.3661, 6.8932) projected
  line L13 (-13.3661, 6.8932) -> (-15.875, 0) projected
  line L14 (-15.875, 0) -> (-25.4, 0) projected
  line L15 (-25.4, 0) -> (-25.4, -14.859) projected
  line L16 (-25.4, 0) -> (-25.4, -14.859) projected
  line L17 (-25.4, 0) -> (-36.7467, 15.403)
  line L18 (-36.7467, 15.403) -> (3.7463, 26.3718)
  line L19 (3.7463, 26.3718) -> (3.7463, 4.1805)
  line L20 (3.7463, 4.1805) -> (0, 0)
  point P0 (-22.86, 9.525)
extrude "Extrusion14" cut sketch "Sketch17" against normal blind 25.4 contours L17 L18 L19 L20 L11 L12 L13 L14
properties part number "blade connector"
